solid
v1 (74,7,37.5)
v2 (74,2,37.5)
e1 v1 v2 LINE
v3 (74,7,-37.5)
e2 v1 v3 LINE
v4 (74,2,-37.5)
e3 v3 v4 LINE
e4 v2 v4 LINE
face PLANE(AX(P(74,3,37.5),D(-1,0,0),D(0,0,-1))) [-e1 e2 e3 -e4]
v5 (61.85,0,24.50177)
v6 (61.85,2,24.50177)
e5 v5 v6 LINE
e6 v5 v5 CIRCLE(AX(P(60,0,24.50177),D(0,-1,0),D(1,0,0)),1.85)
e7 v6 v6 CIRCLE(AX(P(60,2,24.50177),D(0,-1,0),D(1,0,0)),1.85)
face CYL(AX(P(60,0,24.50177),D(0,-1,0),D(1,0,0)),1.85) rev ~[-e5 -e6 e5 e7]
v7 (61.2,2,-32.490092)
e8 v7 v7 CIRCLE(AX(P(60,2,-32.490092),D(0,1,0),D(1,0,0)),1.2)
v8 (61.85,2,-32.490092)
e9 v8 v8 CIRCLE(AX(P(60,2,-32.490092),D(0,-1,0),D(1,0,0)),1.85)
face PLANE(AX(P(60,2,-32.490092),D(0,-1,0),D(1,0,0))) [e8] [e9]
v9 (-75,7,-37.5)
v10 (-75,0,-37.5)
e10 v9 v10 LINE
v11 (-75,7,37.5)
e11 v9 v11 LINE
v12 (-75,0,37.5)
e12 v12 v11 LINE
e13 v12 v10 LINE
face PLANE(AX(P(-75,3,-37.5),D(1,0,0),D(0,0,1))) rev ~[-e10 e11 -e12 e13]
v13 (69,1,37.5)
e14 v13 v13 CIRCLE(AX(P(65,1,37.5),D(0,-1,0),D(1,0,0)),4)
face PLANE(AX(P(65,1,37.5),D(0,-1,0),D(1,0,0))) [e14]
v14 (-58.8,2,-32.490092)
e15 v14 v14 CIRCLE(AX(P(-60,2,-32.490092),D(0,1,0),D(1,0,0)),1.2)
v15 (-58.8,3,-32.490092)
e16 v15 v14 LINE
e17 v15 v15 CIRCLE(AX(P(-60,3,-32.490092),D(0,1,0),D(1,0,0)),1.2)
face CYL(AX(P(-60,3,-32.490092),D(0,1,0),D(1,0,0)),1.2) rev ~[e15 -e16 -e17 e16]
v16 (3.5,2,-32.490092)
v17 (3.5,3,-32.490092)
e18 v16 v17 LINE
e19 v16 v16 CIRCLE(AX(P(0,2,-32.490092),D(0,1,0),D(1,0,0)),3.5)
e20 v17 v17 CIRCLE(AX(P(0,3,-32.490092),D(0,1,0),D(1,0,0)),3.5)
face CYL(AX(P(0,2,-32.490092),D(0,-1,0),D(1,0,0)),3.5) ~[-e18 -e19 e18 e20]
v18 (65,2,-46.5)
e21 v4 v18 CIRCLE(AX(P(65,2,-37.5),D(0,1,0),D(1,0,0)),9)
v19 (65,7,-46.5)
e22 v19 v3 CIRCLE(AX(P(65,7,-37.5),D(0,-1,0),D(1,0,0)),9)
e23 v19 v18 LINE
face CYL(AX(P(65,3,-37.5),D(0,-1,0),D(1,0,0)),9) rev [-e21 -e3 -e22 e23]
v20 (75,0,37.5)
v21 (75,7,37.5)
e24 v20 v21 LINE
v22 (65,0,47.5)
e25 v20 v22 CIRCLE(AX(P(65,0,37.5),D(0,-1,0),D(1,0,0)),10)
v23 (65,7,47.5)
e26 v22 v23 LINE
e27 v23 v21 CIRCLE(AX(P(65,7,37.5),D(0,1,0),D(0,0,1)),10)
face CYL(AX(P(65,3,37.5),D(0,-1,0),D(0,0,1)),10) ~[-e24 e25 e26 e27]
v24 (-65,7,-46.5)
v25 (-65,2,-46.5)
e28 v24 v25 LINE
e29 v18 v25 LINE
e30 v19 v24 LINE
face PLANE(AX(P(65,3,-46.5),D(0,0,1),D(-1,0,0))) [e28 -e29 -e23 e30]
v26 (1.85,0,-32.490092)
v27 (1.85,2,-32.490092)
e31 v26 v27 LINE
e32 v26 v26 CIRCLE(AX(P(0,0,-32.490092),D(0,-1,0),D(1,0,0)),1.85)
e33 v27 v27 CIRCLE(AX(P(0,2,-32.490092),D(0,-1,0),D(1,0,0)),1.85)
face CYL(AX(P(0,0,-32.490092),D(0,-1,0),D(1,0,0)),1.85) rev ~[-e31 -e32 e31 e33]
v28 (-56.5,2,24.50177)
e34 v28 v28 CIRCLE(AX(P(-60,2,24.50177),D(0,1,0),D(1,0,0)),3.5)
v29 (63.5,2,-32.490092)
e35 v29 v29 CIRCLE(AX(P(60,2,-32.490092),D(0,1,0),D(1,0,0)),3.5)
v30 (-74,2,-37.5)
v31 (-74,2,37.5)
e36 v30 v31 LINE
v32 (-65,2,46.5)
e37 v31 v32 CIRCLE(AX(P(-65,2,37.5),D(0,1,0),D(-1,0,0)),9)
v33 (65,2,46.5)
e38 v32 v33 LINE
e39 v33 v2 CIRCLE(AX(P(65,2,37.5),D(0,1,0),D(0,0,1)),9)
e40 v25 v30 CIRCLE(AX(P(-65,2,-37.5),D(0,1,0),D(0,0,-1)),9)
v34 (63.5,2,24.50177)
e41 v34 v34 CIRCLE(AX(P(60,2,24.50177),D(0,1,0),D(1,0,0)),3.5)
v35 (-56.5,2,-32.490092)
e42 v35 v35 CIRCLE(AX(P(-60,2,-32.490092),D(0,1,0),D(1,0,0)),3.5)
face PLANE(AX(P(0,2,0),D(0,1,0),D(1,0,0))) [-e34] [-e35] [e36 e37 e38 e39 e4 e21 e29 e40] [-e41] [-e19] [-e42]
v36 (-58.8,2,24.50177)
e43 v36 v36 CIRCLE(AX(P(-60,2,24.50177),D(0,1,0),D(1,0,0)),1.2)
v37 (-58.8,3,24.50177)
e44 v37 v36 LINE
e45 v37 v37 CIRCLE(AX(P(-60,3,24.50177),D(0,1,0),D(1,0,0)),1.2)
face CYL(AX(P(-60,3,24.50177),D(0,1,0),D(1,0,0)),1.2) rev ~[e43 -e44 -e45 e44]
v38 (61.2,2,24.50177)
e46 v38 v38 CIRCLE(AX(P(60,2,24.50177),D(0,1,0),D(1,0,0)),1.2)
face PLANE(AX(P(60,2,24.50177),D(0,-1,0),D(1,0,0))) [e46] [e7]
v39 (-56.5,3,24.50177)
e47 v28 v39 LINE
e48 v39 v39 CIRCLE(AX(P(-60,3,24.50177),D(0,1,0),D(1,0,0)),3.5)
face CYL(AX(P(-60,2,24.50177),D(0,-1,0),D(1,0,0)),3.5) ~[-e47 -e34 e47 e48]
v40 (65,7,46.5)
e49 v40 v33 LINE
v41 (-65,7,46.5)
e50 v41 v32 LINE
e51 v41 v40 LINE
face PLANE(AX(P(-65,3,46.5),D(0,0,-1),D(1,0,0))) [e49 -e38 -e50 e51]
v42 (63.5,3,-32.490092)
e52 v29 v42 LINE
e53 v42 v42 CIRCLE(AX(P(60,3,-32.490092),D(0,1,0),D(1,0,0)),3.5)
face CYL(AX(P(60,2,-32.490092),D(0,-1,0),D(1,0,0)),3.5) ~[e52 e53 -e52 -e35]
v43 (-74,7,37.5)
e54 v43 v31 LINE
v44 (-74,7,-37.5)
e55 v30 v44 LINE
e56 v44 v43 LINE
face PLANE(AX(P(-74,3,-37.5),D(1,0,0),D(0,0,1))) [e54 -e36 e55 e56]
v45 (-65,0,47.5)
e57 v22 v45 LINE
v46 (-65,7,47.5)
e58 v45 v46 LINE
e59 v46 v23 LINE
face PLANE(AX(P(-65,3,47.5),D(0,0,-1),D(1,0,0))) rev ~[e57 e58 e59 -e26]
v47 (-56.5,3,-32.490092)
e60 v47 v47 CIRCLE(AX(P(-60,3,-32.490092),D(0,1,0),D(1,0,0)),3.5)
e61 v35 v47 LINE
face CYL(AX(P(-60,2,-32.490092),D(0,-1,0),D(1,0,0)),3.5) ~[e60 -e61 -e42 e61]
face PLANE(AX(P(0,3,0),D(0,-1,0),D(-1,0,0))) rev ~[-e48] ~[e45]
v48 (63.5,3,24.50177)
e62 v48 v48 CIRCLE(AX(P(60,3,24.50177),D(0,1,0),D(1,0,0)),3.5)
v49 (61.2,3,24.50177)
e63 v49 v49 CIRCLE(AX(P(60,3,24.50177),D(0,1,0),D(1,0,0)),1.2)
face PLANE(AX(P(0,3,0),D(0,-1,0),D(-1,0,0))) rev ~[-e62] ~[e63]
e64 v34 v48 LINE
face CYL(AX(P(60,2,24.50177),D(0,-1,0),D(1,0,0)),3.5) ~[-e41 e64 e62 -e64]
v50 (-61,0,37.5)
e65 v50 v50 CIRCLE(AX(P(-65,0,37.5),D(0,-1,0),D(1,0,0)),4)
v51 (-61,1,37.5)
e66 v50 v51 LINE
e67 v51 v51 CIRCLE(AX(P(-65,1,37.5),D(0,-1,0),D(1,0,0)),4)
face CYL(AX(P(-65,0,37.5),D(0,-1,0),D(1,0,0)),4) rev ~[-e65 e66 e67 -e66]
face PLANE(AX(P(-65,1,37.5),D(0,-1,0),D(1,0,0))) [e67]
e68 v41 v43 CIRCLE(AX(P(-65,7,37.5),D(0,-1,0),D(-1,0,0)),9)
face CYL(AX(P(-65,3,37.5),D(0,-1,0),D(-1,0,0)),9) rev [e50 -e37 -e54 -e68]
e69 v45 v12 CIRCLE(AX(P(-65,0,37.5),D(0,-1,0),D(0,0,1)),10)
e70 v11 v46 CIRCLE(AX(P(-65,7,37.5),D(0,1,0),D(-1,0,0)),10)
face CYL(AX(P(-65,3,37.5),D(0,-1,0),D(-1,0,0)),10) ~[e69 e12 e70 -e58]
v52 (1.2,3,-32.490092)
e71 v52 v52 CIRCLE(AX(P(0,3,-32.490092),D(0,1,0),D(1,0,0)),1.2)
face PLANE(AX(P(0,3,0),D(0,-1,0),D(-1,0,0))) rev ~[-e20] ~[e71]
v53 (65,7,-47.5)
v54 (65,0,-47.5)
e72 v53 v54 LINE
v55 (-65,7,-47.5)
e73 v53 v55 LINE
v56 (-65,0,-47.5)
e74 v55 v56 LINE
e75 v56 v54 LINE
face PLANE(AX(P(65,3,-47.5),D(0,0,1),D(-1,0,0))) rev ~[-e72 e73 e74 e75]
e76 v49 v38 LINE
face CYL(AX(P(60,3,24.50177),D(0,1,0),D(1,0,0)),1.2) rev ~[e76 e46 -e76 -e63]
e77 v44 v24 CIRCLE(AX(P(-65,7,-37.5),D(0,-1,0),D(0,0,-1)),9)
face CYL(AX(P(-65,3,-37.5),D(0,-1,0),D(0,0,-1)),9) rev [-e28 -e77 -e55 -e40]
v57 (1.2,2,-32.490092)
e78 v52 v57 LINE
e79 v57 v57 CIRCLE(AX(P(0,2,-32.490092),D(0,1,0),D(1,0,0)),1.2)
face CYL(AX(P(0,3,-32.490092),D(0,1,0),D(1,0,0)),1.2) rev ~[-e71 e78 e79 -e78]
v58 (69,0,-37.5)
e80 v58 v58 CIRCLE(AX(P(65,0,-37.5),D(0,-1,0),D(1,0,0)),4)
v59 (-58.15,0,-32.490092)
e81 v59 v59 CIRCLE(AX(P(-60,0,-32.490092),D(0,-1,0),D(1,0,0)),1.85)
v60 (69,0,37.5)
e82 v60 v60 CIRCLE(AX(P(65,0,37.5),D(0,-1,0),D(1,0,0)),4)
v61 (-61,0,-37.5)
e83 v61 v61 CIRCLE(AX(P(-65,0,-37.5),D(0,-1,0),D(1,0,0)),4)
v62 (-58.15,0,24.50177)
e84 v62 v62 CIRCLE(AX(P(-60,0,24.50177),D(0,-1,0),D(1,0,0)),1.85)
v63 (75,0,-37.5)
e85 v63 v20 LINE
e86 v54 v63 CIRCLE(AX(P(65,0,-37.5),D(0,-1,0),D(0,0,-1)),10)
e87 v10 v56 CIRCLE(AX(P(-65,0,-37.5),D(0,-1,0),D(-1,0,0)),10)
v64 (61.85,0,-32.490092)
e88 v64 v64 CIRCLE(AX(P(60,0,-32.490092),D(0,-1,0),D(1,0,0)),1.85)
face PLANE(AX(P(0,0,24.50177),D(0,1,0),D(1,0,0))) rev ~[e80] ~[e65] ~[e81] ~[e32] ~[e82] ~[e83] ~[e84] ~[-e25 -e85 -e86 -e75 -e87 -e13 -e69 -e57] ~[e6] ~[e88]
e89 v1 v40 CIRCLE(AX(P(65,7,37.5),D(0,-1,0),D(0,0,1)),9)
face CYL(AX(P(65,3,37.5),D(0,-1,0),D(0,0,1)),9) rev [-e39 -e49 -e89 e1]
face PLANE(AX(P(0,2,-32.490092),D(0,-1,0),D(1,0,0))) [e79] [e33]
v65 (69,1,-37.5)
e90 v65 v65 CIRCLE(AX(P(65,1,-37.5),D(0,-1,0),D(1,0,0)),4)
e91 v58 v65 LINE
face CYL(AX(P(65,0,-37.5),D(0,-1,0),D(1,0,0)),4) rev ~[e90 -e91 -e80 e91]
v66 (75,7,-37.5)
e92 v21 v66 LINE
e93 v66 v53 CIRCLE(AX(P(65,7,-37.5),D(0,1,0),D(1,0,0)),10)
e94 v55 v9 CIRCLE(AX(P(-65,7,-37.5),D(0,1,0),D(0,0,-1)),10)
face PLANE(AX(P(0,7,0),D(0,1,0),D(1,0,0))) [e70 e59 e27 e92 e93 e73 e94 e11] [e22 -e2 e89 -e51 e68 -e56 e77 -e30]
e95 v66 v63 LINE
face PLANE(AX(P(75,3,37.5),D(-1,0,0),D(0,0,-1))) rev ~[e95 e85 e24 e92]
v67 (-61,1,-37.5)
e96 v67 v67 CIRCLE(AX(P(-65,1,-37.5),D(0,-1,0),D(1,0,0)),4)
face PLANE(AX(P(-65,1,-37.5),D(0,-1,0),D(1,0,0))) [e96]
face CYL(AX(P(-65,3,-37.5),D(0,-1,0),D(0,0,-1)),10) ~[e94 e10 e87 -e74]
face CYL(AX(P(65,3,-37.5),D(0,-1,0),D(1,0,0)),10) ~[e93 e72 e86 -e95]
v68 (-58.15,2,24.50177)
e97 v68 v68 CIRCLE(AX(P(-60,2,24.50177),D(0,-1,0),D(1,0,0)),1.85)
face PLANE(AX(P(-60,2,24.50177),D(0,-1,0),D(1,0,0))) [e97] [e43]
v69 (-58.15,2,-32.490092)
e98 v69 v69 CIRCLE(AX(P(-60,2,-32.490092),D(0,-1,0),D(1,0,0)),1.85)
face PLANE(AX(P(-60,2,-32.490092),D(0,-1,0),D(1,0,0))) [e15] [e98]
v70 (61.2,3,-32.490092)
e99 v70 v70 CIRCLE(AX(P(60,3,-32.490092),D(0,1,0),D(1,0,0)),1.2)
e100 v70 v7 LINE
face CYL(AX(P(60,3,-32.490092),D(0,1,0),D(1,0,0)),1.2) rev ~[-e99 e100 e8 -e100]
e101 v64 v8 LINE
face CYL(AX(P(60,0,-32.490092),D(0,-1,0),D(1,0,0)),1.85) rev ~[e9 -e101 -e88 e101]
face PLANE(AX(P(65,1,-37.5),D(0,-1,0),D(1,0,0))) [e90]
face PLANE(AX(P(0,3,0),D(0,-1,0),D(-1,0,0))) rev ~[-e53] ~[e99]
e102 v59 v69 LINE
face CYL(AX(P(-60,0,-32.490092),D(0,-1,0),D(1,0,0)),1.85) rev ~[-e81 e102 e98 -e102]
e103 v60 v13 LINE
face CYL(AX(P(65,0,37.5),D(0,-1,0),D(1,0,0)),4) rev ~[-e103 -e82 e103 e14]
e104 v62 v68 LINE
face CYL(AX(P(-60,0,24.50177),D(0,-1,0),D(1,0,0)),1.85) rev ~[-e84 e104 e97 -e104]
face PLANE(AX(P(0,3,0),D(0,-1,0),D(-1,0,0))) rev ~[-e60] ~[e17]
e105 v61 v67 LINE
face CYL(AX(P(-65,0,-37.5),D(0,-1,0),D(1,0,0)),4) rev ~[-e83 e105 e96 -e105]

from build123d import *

# Parameters (mm, degrees)
EXTRUDE_1_DEPTH      = 3
EXTRUDE_2_DEPTH      = 5
SKETCH_4_R           = 1.85
CUT_EXTRUDE_1_DEPTH  = 2
SKETCH_5_R           = 1.1
CUT_EXTRUDE_2_DEPTH  = 2
CUT_EXTRUDE_START    = -1
SKETCH_6_R           = 3.5
CUT_EXTRUDE_3_DEPTH  = 1
SKETCH_7_R           = 1.1
CUT_EXTRUDE_4_DEPTH  = 2
SKETCH_8_R           = 1.85
CUT_EXTRUDE_6_DEPTH  = 2
SKETCH_9_R           = 4
CUT_EXTRUDE_7_DEPTH  = 1
SKETCH_11_R          = 1.2
CUT_EXTRUDE_8_DEPTH  = 10
SKETCH_12_R          = 6.320671045
CUT_EXTRUDE_9_DEPTH  = 10
EXTRUDE_START        = -2
SKETCH_13_R          = 1.85
EXTRUDE_3_DEPTH      = 2
CUT_EXTRUDE_10_DEPTH = 1


with BuildPart() as part:
    # 스케치1 → 보스-돌출1 (new body)
    with BuildSketch(Plane(origin=(0, 0, 0), x_dir=(1, 0, 0), z_dir=(0, 1, 0))):
        with BuildLine():
            Line((-65, 47.5), (65, 47.5))
            ThreePointArc((65, 47.5), (72.071067812, 44.571067812), (75, 37.5))
            Line((75, 37.5), (75, -37.5))
            ThreePointArc((75, -37.5), (72.071067812, -44.571067812), (65, -47.5))
            Line((65, -47.5), (-65, -47.5))
            ThreePointArc((-65, -47.5), (-72.071067812, -44.571067812), (-75, -37.5))
            Line((-75, -37.5), (-75, 37.5))
            ThreePointArc((-75, 37.5), (-72.071067812, 44.571067812), (-65, 47.5))
        make_face()
    extrude(amount=EXTRUDE_1_DEPTH)

    # 스케치2 → 보스-돌출2 (add)
    with BuildSketch(Plane(origin=(0, 3, 0), x_dir=(1, 0, 0), z_dir=(0, 1, 0))):
        with BuildLine():
            Line((-75, 37.5), (-75, -37.5))
            ThreePointArc((-75, -37.5), (-72.071067812, -44.571067812), (-65, -47.5))
            Line((-65, -47.5), (65, -47.5))
            ThreePointArc((65, -47.5), (72.071067812, -44.571067812), (75, -37.5))
            Line((75, -37.5), (75, 37.5))
            ThreePointArc((75, 37.5), (72.071067812, 44.571067812), (65, 47.5))
            Line((65, 47.5), (-65, 47.5))
            ThreePointArc((-65, 47.5), (-72.071067812, 44.571067812), (-75, 37.5))
        make_face()
        with BuildLine():
            Line((-74, 37.5), (-74, -37.5))
            ThreePointArc((-74, -37.5), (-71.363961031, -43.863961031), (-65, -46.5))
            Line((-65, -46.5), (65, -46.5))
            ThreePointArc((65, -46.5), (71.363961031, -43.863961031), (74, -37.5))
            Line((74, -37.5), (74, 37.5))
            ThreePointArc((74, 37.5), (71.363961031, 43.863961031), (65, 46.5))
            Line((65, 46.5), (-65, 46.5))
            ThreePointArc((-65, 46.5), (-71.363961031, 43.863961031), (-74, 37.5))
        make_face(mode=Mode.SUBTRACT)
    extrude(amount=EXTRUDE_2_DEPTH)

    # 스케치4 → 컷-돌출1 (cut)
    with BuildSketch(Plane.XZ):
        with Locations((-60, -32.490092216)):
            Circle(SKETCH_4_R)
        with Locations((60, -32.490092216)):
            Circle(SKETCH_4_R)
        with Locations((-60, 24.501769847)):
            Circle(SKETCH_4_R)
        with Locations((60, 24.501769847)):
            Circle(SKETCH_4_R)
    extrude(amount=-CUT_EXTRUDE_1_DEPTH, mode=Mode.SUBTRACT)

    # 스케치5 → 컷-돌출2 (cut)
    with BuildSketch(Plane.XZ.offset(-2)):
        with Locations((60, -32.490092216)):
            Circle(SKETCH_5_R)
        with Locations((60, 24.501769847)):
            Circle(SKETCH_5_R)
        with Locations((-60, 24.501769847)):
            Circle(SKETCH_5_R)
        with Locations((-60, -32.490092216)):
            Circle(SKETCH_5_R)
    extrude(amount=-CUT_EXTRUDE_2_DEPTH, mode=Mode.SUBTRACT)

    # 스케치6 → 컷-돌출3 (cut)
    with BuildSketch(Plane(origin=(0, 3, 0), x_dir=(1, 0, 0), z_dir=(0, 1, 0)).offset(CUT_EXTRUDE_START)):
        with BuildLine():
            ThreePointArc((-65, 46.5), (-71.363961031, 43.863961031), (-74, 37.5))
            Line((-74, 37.5), (-74, -37.5))
            ThreePointArc((-74, -37.5), (-71.363961031, -43.863961031), (-65, -46.5))
            Line((-65, -46.5), (65, -46.5))
            ThreePointArc((65, -46.5), (71.363961031, -43.863961031), (74, -37.5))
            Line((74, -37.5), (74, 37.5))
            ThreePointArc((74, 37.5), (71.363961031, 43.863961031), (65, 46.5))
            Line((65, 46.5), (-65, 46.5))
        make_face()
        with Locations((-60, -24.501769847)):
            Circle(SKETCH_6_R, mode=Mode.SUBTRACT)
        with Locations((0, -24.501769847)):
            Circle(SKETCH_6_R, mode=Mode.SUBTRACT)
        with Locations((60, -24.501769847)):
            Circle(SKETCH_6_R, mode=Mode.SUBTRACT)
        with Locations((-60, 32.490092216)):
            Circle(SKETCH_6_R, mode=Mode.SUBTRACT)
        with Locations((0, 32.490092216)):
            Circle(SKETCH_6_R, mode=Mode.SUBTRACT)
        with Locations((60, 32.490092216)):
            Circle(SKETCH_6_R, mode=Mode.SUBTRACT)
    extrude(amount=CUT_EXTRUDE_3_DEPTH, mode=Mode.SUBTRACT)

    # 스케치7 → 컷-돌출4 (cut)
    with BuildSketch(Plane(origin=(0, 3, 0), x_dir=(1, 0, 0), z_dir=(0, 1, 0))):
        with Locations((0, -24.501769847)):
            Circle(SKETCH_7_R)
        with Locations((0, 32.490092216)):
            Circle(SKETCH_7_R)
    extrude(amount=-CUT_EXTRUDE_4_DEPTH, mode=Mode.SUBTRACT)

    # 스케치8 → 컷-돌출6 (cut)
    with BuildSketch(Plane.XZ):
        with Locations((-60, 24.501769847)):
            Circle(SKETCH_8_R)
        with Locations((0, 24.501769847)):
            Circle(SKETCH_8_R)
        with Locations((-60, -32.490092216)):
            Circle(SKETCH_8_R)
        with Locations((0, -32.490092216)):
            Circle(SKETCH_8_R)
    extrude(amount=-CUT_EXTRUDE_6_DEPTH, mode=Mode.SUBTRACT)

    # 스케치9 → 컷-돌출7 (cut)
    with BuildSketch(Plane.XZ):
        with Locations((-65, 37.5)):
            Circle(SKETCH_9_R)
        with Locations((65, -37.5)):
            Circle(SKETCH_9_R)
        with Locations((-65, -37.5)):
            Circle(SKETCH_9_R)
        with Locations((65, 37.5)):
            Circle(SKETCH_9_R)
    extrude(amount=-CUT_EXTRUDE_7_DEPTH, mode=Mode.SUBTRACT)

    # 스케치11 → 컷-돌출8 (cut)
    with BuildSketch(Plane(origin=(0, 3, 0), x_dir=(1, 0, 0), z_dir=(0, 1, 0))):
        with Locations((-60, -24.501769847)):
            Circle(SKETCH_11_R)
        with Locations((-60, 32.490092216)):
            Circle(SKETCH_11_R)
        with Locations((0, 32.490092216)):
            Circle(SKETCH_11_R)
        with Locations((60, 32.490092216)):
            Circle(SKETCH_11_R)
        with Locations((60, -24.501769847)):
            Circle(SKETCH_11_R)
    extrude(amount=-CUT_EXTRUDE_8_DEPTH, mode=Mode.SUBTRACT)

    # 스케치12 → 컷-돌출9 (cut)
    with BuildSketch(Plane(origin=(0, 2, 0), x_dir=(1, 0, 0), z_dir=(0, 1, 0))):
        with Locations((0, -24.501769847)):
            Circle(SKETCH_12_R)
    extrude(amount=CUT_EXTRUDE_9_DEPTH, mode=Mode.SUBTRACT)

    # 스케치13 → 보스-돌출3 (add)
    with BuildSketch(Plane(origin=(0, 2, 0), x_dir=(1, 0, 0), z_dir=(0, 1, 0)).offset(EXTRUDE_START)):
        with Locations((0, -24.501769847)):
            Circle(SKETCH_13_R)
    extrude(amount=EXTRUDE_3_DEPTH)

    # 스케치15 → 컷-돌출10 (cut)
    with BuildSketch(Plane(origin=(0, 8, 0), x_dir=(1, 0, 0), z_dir=(0, 1, 0)).offset(CUT_EXTRUDE_START)):
        with BuildLine():
            Line((-75, 37.5), (-75, -37.5))
            ThreePointArc((-75, -37.5), (-72.071067812, -44.571067812), (-65, -47.5))
            Line((-65, -47.5), (65, -47.5))
            ThreePointArc((65, -47.5), (72.071067812, -44.571067812), (75, -37.5))
            Line((75, -37.5), (75, 37.5))
            ThreePointArc((75, 37.5), (72.071067812, 44.571067812), (65, 47.5))
            Line((65, 47.5), (-65, 47.5))
            ThreePointArc((-65, 47.5), (-72.071067812, 44.571067812), (-75, 37.5))
        make_face()
    extrude(amount=CUT_EXTRUDE_10_DEPTH, mode=Mode.SUBTRACT)


solid = part.part
